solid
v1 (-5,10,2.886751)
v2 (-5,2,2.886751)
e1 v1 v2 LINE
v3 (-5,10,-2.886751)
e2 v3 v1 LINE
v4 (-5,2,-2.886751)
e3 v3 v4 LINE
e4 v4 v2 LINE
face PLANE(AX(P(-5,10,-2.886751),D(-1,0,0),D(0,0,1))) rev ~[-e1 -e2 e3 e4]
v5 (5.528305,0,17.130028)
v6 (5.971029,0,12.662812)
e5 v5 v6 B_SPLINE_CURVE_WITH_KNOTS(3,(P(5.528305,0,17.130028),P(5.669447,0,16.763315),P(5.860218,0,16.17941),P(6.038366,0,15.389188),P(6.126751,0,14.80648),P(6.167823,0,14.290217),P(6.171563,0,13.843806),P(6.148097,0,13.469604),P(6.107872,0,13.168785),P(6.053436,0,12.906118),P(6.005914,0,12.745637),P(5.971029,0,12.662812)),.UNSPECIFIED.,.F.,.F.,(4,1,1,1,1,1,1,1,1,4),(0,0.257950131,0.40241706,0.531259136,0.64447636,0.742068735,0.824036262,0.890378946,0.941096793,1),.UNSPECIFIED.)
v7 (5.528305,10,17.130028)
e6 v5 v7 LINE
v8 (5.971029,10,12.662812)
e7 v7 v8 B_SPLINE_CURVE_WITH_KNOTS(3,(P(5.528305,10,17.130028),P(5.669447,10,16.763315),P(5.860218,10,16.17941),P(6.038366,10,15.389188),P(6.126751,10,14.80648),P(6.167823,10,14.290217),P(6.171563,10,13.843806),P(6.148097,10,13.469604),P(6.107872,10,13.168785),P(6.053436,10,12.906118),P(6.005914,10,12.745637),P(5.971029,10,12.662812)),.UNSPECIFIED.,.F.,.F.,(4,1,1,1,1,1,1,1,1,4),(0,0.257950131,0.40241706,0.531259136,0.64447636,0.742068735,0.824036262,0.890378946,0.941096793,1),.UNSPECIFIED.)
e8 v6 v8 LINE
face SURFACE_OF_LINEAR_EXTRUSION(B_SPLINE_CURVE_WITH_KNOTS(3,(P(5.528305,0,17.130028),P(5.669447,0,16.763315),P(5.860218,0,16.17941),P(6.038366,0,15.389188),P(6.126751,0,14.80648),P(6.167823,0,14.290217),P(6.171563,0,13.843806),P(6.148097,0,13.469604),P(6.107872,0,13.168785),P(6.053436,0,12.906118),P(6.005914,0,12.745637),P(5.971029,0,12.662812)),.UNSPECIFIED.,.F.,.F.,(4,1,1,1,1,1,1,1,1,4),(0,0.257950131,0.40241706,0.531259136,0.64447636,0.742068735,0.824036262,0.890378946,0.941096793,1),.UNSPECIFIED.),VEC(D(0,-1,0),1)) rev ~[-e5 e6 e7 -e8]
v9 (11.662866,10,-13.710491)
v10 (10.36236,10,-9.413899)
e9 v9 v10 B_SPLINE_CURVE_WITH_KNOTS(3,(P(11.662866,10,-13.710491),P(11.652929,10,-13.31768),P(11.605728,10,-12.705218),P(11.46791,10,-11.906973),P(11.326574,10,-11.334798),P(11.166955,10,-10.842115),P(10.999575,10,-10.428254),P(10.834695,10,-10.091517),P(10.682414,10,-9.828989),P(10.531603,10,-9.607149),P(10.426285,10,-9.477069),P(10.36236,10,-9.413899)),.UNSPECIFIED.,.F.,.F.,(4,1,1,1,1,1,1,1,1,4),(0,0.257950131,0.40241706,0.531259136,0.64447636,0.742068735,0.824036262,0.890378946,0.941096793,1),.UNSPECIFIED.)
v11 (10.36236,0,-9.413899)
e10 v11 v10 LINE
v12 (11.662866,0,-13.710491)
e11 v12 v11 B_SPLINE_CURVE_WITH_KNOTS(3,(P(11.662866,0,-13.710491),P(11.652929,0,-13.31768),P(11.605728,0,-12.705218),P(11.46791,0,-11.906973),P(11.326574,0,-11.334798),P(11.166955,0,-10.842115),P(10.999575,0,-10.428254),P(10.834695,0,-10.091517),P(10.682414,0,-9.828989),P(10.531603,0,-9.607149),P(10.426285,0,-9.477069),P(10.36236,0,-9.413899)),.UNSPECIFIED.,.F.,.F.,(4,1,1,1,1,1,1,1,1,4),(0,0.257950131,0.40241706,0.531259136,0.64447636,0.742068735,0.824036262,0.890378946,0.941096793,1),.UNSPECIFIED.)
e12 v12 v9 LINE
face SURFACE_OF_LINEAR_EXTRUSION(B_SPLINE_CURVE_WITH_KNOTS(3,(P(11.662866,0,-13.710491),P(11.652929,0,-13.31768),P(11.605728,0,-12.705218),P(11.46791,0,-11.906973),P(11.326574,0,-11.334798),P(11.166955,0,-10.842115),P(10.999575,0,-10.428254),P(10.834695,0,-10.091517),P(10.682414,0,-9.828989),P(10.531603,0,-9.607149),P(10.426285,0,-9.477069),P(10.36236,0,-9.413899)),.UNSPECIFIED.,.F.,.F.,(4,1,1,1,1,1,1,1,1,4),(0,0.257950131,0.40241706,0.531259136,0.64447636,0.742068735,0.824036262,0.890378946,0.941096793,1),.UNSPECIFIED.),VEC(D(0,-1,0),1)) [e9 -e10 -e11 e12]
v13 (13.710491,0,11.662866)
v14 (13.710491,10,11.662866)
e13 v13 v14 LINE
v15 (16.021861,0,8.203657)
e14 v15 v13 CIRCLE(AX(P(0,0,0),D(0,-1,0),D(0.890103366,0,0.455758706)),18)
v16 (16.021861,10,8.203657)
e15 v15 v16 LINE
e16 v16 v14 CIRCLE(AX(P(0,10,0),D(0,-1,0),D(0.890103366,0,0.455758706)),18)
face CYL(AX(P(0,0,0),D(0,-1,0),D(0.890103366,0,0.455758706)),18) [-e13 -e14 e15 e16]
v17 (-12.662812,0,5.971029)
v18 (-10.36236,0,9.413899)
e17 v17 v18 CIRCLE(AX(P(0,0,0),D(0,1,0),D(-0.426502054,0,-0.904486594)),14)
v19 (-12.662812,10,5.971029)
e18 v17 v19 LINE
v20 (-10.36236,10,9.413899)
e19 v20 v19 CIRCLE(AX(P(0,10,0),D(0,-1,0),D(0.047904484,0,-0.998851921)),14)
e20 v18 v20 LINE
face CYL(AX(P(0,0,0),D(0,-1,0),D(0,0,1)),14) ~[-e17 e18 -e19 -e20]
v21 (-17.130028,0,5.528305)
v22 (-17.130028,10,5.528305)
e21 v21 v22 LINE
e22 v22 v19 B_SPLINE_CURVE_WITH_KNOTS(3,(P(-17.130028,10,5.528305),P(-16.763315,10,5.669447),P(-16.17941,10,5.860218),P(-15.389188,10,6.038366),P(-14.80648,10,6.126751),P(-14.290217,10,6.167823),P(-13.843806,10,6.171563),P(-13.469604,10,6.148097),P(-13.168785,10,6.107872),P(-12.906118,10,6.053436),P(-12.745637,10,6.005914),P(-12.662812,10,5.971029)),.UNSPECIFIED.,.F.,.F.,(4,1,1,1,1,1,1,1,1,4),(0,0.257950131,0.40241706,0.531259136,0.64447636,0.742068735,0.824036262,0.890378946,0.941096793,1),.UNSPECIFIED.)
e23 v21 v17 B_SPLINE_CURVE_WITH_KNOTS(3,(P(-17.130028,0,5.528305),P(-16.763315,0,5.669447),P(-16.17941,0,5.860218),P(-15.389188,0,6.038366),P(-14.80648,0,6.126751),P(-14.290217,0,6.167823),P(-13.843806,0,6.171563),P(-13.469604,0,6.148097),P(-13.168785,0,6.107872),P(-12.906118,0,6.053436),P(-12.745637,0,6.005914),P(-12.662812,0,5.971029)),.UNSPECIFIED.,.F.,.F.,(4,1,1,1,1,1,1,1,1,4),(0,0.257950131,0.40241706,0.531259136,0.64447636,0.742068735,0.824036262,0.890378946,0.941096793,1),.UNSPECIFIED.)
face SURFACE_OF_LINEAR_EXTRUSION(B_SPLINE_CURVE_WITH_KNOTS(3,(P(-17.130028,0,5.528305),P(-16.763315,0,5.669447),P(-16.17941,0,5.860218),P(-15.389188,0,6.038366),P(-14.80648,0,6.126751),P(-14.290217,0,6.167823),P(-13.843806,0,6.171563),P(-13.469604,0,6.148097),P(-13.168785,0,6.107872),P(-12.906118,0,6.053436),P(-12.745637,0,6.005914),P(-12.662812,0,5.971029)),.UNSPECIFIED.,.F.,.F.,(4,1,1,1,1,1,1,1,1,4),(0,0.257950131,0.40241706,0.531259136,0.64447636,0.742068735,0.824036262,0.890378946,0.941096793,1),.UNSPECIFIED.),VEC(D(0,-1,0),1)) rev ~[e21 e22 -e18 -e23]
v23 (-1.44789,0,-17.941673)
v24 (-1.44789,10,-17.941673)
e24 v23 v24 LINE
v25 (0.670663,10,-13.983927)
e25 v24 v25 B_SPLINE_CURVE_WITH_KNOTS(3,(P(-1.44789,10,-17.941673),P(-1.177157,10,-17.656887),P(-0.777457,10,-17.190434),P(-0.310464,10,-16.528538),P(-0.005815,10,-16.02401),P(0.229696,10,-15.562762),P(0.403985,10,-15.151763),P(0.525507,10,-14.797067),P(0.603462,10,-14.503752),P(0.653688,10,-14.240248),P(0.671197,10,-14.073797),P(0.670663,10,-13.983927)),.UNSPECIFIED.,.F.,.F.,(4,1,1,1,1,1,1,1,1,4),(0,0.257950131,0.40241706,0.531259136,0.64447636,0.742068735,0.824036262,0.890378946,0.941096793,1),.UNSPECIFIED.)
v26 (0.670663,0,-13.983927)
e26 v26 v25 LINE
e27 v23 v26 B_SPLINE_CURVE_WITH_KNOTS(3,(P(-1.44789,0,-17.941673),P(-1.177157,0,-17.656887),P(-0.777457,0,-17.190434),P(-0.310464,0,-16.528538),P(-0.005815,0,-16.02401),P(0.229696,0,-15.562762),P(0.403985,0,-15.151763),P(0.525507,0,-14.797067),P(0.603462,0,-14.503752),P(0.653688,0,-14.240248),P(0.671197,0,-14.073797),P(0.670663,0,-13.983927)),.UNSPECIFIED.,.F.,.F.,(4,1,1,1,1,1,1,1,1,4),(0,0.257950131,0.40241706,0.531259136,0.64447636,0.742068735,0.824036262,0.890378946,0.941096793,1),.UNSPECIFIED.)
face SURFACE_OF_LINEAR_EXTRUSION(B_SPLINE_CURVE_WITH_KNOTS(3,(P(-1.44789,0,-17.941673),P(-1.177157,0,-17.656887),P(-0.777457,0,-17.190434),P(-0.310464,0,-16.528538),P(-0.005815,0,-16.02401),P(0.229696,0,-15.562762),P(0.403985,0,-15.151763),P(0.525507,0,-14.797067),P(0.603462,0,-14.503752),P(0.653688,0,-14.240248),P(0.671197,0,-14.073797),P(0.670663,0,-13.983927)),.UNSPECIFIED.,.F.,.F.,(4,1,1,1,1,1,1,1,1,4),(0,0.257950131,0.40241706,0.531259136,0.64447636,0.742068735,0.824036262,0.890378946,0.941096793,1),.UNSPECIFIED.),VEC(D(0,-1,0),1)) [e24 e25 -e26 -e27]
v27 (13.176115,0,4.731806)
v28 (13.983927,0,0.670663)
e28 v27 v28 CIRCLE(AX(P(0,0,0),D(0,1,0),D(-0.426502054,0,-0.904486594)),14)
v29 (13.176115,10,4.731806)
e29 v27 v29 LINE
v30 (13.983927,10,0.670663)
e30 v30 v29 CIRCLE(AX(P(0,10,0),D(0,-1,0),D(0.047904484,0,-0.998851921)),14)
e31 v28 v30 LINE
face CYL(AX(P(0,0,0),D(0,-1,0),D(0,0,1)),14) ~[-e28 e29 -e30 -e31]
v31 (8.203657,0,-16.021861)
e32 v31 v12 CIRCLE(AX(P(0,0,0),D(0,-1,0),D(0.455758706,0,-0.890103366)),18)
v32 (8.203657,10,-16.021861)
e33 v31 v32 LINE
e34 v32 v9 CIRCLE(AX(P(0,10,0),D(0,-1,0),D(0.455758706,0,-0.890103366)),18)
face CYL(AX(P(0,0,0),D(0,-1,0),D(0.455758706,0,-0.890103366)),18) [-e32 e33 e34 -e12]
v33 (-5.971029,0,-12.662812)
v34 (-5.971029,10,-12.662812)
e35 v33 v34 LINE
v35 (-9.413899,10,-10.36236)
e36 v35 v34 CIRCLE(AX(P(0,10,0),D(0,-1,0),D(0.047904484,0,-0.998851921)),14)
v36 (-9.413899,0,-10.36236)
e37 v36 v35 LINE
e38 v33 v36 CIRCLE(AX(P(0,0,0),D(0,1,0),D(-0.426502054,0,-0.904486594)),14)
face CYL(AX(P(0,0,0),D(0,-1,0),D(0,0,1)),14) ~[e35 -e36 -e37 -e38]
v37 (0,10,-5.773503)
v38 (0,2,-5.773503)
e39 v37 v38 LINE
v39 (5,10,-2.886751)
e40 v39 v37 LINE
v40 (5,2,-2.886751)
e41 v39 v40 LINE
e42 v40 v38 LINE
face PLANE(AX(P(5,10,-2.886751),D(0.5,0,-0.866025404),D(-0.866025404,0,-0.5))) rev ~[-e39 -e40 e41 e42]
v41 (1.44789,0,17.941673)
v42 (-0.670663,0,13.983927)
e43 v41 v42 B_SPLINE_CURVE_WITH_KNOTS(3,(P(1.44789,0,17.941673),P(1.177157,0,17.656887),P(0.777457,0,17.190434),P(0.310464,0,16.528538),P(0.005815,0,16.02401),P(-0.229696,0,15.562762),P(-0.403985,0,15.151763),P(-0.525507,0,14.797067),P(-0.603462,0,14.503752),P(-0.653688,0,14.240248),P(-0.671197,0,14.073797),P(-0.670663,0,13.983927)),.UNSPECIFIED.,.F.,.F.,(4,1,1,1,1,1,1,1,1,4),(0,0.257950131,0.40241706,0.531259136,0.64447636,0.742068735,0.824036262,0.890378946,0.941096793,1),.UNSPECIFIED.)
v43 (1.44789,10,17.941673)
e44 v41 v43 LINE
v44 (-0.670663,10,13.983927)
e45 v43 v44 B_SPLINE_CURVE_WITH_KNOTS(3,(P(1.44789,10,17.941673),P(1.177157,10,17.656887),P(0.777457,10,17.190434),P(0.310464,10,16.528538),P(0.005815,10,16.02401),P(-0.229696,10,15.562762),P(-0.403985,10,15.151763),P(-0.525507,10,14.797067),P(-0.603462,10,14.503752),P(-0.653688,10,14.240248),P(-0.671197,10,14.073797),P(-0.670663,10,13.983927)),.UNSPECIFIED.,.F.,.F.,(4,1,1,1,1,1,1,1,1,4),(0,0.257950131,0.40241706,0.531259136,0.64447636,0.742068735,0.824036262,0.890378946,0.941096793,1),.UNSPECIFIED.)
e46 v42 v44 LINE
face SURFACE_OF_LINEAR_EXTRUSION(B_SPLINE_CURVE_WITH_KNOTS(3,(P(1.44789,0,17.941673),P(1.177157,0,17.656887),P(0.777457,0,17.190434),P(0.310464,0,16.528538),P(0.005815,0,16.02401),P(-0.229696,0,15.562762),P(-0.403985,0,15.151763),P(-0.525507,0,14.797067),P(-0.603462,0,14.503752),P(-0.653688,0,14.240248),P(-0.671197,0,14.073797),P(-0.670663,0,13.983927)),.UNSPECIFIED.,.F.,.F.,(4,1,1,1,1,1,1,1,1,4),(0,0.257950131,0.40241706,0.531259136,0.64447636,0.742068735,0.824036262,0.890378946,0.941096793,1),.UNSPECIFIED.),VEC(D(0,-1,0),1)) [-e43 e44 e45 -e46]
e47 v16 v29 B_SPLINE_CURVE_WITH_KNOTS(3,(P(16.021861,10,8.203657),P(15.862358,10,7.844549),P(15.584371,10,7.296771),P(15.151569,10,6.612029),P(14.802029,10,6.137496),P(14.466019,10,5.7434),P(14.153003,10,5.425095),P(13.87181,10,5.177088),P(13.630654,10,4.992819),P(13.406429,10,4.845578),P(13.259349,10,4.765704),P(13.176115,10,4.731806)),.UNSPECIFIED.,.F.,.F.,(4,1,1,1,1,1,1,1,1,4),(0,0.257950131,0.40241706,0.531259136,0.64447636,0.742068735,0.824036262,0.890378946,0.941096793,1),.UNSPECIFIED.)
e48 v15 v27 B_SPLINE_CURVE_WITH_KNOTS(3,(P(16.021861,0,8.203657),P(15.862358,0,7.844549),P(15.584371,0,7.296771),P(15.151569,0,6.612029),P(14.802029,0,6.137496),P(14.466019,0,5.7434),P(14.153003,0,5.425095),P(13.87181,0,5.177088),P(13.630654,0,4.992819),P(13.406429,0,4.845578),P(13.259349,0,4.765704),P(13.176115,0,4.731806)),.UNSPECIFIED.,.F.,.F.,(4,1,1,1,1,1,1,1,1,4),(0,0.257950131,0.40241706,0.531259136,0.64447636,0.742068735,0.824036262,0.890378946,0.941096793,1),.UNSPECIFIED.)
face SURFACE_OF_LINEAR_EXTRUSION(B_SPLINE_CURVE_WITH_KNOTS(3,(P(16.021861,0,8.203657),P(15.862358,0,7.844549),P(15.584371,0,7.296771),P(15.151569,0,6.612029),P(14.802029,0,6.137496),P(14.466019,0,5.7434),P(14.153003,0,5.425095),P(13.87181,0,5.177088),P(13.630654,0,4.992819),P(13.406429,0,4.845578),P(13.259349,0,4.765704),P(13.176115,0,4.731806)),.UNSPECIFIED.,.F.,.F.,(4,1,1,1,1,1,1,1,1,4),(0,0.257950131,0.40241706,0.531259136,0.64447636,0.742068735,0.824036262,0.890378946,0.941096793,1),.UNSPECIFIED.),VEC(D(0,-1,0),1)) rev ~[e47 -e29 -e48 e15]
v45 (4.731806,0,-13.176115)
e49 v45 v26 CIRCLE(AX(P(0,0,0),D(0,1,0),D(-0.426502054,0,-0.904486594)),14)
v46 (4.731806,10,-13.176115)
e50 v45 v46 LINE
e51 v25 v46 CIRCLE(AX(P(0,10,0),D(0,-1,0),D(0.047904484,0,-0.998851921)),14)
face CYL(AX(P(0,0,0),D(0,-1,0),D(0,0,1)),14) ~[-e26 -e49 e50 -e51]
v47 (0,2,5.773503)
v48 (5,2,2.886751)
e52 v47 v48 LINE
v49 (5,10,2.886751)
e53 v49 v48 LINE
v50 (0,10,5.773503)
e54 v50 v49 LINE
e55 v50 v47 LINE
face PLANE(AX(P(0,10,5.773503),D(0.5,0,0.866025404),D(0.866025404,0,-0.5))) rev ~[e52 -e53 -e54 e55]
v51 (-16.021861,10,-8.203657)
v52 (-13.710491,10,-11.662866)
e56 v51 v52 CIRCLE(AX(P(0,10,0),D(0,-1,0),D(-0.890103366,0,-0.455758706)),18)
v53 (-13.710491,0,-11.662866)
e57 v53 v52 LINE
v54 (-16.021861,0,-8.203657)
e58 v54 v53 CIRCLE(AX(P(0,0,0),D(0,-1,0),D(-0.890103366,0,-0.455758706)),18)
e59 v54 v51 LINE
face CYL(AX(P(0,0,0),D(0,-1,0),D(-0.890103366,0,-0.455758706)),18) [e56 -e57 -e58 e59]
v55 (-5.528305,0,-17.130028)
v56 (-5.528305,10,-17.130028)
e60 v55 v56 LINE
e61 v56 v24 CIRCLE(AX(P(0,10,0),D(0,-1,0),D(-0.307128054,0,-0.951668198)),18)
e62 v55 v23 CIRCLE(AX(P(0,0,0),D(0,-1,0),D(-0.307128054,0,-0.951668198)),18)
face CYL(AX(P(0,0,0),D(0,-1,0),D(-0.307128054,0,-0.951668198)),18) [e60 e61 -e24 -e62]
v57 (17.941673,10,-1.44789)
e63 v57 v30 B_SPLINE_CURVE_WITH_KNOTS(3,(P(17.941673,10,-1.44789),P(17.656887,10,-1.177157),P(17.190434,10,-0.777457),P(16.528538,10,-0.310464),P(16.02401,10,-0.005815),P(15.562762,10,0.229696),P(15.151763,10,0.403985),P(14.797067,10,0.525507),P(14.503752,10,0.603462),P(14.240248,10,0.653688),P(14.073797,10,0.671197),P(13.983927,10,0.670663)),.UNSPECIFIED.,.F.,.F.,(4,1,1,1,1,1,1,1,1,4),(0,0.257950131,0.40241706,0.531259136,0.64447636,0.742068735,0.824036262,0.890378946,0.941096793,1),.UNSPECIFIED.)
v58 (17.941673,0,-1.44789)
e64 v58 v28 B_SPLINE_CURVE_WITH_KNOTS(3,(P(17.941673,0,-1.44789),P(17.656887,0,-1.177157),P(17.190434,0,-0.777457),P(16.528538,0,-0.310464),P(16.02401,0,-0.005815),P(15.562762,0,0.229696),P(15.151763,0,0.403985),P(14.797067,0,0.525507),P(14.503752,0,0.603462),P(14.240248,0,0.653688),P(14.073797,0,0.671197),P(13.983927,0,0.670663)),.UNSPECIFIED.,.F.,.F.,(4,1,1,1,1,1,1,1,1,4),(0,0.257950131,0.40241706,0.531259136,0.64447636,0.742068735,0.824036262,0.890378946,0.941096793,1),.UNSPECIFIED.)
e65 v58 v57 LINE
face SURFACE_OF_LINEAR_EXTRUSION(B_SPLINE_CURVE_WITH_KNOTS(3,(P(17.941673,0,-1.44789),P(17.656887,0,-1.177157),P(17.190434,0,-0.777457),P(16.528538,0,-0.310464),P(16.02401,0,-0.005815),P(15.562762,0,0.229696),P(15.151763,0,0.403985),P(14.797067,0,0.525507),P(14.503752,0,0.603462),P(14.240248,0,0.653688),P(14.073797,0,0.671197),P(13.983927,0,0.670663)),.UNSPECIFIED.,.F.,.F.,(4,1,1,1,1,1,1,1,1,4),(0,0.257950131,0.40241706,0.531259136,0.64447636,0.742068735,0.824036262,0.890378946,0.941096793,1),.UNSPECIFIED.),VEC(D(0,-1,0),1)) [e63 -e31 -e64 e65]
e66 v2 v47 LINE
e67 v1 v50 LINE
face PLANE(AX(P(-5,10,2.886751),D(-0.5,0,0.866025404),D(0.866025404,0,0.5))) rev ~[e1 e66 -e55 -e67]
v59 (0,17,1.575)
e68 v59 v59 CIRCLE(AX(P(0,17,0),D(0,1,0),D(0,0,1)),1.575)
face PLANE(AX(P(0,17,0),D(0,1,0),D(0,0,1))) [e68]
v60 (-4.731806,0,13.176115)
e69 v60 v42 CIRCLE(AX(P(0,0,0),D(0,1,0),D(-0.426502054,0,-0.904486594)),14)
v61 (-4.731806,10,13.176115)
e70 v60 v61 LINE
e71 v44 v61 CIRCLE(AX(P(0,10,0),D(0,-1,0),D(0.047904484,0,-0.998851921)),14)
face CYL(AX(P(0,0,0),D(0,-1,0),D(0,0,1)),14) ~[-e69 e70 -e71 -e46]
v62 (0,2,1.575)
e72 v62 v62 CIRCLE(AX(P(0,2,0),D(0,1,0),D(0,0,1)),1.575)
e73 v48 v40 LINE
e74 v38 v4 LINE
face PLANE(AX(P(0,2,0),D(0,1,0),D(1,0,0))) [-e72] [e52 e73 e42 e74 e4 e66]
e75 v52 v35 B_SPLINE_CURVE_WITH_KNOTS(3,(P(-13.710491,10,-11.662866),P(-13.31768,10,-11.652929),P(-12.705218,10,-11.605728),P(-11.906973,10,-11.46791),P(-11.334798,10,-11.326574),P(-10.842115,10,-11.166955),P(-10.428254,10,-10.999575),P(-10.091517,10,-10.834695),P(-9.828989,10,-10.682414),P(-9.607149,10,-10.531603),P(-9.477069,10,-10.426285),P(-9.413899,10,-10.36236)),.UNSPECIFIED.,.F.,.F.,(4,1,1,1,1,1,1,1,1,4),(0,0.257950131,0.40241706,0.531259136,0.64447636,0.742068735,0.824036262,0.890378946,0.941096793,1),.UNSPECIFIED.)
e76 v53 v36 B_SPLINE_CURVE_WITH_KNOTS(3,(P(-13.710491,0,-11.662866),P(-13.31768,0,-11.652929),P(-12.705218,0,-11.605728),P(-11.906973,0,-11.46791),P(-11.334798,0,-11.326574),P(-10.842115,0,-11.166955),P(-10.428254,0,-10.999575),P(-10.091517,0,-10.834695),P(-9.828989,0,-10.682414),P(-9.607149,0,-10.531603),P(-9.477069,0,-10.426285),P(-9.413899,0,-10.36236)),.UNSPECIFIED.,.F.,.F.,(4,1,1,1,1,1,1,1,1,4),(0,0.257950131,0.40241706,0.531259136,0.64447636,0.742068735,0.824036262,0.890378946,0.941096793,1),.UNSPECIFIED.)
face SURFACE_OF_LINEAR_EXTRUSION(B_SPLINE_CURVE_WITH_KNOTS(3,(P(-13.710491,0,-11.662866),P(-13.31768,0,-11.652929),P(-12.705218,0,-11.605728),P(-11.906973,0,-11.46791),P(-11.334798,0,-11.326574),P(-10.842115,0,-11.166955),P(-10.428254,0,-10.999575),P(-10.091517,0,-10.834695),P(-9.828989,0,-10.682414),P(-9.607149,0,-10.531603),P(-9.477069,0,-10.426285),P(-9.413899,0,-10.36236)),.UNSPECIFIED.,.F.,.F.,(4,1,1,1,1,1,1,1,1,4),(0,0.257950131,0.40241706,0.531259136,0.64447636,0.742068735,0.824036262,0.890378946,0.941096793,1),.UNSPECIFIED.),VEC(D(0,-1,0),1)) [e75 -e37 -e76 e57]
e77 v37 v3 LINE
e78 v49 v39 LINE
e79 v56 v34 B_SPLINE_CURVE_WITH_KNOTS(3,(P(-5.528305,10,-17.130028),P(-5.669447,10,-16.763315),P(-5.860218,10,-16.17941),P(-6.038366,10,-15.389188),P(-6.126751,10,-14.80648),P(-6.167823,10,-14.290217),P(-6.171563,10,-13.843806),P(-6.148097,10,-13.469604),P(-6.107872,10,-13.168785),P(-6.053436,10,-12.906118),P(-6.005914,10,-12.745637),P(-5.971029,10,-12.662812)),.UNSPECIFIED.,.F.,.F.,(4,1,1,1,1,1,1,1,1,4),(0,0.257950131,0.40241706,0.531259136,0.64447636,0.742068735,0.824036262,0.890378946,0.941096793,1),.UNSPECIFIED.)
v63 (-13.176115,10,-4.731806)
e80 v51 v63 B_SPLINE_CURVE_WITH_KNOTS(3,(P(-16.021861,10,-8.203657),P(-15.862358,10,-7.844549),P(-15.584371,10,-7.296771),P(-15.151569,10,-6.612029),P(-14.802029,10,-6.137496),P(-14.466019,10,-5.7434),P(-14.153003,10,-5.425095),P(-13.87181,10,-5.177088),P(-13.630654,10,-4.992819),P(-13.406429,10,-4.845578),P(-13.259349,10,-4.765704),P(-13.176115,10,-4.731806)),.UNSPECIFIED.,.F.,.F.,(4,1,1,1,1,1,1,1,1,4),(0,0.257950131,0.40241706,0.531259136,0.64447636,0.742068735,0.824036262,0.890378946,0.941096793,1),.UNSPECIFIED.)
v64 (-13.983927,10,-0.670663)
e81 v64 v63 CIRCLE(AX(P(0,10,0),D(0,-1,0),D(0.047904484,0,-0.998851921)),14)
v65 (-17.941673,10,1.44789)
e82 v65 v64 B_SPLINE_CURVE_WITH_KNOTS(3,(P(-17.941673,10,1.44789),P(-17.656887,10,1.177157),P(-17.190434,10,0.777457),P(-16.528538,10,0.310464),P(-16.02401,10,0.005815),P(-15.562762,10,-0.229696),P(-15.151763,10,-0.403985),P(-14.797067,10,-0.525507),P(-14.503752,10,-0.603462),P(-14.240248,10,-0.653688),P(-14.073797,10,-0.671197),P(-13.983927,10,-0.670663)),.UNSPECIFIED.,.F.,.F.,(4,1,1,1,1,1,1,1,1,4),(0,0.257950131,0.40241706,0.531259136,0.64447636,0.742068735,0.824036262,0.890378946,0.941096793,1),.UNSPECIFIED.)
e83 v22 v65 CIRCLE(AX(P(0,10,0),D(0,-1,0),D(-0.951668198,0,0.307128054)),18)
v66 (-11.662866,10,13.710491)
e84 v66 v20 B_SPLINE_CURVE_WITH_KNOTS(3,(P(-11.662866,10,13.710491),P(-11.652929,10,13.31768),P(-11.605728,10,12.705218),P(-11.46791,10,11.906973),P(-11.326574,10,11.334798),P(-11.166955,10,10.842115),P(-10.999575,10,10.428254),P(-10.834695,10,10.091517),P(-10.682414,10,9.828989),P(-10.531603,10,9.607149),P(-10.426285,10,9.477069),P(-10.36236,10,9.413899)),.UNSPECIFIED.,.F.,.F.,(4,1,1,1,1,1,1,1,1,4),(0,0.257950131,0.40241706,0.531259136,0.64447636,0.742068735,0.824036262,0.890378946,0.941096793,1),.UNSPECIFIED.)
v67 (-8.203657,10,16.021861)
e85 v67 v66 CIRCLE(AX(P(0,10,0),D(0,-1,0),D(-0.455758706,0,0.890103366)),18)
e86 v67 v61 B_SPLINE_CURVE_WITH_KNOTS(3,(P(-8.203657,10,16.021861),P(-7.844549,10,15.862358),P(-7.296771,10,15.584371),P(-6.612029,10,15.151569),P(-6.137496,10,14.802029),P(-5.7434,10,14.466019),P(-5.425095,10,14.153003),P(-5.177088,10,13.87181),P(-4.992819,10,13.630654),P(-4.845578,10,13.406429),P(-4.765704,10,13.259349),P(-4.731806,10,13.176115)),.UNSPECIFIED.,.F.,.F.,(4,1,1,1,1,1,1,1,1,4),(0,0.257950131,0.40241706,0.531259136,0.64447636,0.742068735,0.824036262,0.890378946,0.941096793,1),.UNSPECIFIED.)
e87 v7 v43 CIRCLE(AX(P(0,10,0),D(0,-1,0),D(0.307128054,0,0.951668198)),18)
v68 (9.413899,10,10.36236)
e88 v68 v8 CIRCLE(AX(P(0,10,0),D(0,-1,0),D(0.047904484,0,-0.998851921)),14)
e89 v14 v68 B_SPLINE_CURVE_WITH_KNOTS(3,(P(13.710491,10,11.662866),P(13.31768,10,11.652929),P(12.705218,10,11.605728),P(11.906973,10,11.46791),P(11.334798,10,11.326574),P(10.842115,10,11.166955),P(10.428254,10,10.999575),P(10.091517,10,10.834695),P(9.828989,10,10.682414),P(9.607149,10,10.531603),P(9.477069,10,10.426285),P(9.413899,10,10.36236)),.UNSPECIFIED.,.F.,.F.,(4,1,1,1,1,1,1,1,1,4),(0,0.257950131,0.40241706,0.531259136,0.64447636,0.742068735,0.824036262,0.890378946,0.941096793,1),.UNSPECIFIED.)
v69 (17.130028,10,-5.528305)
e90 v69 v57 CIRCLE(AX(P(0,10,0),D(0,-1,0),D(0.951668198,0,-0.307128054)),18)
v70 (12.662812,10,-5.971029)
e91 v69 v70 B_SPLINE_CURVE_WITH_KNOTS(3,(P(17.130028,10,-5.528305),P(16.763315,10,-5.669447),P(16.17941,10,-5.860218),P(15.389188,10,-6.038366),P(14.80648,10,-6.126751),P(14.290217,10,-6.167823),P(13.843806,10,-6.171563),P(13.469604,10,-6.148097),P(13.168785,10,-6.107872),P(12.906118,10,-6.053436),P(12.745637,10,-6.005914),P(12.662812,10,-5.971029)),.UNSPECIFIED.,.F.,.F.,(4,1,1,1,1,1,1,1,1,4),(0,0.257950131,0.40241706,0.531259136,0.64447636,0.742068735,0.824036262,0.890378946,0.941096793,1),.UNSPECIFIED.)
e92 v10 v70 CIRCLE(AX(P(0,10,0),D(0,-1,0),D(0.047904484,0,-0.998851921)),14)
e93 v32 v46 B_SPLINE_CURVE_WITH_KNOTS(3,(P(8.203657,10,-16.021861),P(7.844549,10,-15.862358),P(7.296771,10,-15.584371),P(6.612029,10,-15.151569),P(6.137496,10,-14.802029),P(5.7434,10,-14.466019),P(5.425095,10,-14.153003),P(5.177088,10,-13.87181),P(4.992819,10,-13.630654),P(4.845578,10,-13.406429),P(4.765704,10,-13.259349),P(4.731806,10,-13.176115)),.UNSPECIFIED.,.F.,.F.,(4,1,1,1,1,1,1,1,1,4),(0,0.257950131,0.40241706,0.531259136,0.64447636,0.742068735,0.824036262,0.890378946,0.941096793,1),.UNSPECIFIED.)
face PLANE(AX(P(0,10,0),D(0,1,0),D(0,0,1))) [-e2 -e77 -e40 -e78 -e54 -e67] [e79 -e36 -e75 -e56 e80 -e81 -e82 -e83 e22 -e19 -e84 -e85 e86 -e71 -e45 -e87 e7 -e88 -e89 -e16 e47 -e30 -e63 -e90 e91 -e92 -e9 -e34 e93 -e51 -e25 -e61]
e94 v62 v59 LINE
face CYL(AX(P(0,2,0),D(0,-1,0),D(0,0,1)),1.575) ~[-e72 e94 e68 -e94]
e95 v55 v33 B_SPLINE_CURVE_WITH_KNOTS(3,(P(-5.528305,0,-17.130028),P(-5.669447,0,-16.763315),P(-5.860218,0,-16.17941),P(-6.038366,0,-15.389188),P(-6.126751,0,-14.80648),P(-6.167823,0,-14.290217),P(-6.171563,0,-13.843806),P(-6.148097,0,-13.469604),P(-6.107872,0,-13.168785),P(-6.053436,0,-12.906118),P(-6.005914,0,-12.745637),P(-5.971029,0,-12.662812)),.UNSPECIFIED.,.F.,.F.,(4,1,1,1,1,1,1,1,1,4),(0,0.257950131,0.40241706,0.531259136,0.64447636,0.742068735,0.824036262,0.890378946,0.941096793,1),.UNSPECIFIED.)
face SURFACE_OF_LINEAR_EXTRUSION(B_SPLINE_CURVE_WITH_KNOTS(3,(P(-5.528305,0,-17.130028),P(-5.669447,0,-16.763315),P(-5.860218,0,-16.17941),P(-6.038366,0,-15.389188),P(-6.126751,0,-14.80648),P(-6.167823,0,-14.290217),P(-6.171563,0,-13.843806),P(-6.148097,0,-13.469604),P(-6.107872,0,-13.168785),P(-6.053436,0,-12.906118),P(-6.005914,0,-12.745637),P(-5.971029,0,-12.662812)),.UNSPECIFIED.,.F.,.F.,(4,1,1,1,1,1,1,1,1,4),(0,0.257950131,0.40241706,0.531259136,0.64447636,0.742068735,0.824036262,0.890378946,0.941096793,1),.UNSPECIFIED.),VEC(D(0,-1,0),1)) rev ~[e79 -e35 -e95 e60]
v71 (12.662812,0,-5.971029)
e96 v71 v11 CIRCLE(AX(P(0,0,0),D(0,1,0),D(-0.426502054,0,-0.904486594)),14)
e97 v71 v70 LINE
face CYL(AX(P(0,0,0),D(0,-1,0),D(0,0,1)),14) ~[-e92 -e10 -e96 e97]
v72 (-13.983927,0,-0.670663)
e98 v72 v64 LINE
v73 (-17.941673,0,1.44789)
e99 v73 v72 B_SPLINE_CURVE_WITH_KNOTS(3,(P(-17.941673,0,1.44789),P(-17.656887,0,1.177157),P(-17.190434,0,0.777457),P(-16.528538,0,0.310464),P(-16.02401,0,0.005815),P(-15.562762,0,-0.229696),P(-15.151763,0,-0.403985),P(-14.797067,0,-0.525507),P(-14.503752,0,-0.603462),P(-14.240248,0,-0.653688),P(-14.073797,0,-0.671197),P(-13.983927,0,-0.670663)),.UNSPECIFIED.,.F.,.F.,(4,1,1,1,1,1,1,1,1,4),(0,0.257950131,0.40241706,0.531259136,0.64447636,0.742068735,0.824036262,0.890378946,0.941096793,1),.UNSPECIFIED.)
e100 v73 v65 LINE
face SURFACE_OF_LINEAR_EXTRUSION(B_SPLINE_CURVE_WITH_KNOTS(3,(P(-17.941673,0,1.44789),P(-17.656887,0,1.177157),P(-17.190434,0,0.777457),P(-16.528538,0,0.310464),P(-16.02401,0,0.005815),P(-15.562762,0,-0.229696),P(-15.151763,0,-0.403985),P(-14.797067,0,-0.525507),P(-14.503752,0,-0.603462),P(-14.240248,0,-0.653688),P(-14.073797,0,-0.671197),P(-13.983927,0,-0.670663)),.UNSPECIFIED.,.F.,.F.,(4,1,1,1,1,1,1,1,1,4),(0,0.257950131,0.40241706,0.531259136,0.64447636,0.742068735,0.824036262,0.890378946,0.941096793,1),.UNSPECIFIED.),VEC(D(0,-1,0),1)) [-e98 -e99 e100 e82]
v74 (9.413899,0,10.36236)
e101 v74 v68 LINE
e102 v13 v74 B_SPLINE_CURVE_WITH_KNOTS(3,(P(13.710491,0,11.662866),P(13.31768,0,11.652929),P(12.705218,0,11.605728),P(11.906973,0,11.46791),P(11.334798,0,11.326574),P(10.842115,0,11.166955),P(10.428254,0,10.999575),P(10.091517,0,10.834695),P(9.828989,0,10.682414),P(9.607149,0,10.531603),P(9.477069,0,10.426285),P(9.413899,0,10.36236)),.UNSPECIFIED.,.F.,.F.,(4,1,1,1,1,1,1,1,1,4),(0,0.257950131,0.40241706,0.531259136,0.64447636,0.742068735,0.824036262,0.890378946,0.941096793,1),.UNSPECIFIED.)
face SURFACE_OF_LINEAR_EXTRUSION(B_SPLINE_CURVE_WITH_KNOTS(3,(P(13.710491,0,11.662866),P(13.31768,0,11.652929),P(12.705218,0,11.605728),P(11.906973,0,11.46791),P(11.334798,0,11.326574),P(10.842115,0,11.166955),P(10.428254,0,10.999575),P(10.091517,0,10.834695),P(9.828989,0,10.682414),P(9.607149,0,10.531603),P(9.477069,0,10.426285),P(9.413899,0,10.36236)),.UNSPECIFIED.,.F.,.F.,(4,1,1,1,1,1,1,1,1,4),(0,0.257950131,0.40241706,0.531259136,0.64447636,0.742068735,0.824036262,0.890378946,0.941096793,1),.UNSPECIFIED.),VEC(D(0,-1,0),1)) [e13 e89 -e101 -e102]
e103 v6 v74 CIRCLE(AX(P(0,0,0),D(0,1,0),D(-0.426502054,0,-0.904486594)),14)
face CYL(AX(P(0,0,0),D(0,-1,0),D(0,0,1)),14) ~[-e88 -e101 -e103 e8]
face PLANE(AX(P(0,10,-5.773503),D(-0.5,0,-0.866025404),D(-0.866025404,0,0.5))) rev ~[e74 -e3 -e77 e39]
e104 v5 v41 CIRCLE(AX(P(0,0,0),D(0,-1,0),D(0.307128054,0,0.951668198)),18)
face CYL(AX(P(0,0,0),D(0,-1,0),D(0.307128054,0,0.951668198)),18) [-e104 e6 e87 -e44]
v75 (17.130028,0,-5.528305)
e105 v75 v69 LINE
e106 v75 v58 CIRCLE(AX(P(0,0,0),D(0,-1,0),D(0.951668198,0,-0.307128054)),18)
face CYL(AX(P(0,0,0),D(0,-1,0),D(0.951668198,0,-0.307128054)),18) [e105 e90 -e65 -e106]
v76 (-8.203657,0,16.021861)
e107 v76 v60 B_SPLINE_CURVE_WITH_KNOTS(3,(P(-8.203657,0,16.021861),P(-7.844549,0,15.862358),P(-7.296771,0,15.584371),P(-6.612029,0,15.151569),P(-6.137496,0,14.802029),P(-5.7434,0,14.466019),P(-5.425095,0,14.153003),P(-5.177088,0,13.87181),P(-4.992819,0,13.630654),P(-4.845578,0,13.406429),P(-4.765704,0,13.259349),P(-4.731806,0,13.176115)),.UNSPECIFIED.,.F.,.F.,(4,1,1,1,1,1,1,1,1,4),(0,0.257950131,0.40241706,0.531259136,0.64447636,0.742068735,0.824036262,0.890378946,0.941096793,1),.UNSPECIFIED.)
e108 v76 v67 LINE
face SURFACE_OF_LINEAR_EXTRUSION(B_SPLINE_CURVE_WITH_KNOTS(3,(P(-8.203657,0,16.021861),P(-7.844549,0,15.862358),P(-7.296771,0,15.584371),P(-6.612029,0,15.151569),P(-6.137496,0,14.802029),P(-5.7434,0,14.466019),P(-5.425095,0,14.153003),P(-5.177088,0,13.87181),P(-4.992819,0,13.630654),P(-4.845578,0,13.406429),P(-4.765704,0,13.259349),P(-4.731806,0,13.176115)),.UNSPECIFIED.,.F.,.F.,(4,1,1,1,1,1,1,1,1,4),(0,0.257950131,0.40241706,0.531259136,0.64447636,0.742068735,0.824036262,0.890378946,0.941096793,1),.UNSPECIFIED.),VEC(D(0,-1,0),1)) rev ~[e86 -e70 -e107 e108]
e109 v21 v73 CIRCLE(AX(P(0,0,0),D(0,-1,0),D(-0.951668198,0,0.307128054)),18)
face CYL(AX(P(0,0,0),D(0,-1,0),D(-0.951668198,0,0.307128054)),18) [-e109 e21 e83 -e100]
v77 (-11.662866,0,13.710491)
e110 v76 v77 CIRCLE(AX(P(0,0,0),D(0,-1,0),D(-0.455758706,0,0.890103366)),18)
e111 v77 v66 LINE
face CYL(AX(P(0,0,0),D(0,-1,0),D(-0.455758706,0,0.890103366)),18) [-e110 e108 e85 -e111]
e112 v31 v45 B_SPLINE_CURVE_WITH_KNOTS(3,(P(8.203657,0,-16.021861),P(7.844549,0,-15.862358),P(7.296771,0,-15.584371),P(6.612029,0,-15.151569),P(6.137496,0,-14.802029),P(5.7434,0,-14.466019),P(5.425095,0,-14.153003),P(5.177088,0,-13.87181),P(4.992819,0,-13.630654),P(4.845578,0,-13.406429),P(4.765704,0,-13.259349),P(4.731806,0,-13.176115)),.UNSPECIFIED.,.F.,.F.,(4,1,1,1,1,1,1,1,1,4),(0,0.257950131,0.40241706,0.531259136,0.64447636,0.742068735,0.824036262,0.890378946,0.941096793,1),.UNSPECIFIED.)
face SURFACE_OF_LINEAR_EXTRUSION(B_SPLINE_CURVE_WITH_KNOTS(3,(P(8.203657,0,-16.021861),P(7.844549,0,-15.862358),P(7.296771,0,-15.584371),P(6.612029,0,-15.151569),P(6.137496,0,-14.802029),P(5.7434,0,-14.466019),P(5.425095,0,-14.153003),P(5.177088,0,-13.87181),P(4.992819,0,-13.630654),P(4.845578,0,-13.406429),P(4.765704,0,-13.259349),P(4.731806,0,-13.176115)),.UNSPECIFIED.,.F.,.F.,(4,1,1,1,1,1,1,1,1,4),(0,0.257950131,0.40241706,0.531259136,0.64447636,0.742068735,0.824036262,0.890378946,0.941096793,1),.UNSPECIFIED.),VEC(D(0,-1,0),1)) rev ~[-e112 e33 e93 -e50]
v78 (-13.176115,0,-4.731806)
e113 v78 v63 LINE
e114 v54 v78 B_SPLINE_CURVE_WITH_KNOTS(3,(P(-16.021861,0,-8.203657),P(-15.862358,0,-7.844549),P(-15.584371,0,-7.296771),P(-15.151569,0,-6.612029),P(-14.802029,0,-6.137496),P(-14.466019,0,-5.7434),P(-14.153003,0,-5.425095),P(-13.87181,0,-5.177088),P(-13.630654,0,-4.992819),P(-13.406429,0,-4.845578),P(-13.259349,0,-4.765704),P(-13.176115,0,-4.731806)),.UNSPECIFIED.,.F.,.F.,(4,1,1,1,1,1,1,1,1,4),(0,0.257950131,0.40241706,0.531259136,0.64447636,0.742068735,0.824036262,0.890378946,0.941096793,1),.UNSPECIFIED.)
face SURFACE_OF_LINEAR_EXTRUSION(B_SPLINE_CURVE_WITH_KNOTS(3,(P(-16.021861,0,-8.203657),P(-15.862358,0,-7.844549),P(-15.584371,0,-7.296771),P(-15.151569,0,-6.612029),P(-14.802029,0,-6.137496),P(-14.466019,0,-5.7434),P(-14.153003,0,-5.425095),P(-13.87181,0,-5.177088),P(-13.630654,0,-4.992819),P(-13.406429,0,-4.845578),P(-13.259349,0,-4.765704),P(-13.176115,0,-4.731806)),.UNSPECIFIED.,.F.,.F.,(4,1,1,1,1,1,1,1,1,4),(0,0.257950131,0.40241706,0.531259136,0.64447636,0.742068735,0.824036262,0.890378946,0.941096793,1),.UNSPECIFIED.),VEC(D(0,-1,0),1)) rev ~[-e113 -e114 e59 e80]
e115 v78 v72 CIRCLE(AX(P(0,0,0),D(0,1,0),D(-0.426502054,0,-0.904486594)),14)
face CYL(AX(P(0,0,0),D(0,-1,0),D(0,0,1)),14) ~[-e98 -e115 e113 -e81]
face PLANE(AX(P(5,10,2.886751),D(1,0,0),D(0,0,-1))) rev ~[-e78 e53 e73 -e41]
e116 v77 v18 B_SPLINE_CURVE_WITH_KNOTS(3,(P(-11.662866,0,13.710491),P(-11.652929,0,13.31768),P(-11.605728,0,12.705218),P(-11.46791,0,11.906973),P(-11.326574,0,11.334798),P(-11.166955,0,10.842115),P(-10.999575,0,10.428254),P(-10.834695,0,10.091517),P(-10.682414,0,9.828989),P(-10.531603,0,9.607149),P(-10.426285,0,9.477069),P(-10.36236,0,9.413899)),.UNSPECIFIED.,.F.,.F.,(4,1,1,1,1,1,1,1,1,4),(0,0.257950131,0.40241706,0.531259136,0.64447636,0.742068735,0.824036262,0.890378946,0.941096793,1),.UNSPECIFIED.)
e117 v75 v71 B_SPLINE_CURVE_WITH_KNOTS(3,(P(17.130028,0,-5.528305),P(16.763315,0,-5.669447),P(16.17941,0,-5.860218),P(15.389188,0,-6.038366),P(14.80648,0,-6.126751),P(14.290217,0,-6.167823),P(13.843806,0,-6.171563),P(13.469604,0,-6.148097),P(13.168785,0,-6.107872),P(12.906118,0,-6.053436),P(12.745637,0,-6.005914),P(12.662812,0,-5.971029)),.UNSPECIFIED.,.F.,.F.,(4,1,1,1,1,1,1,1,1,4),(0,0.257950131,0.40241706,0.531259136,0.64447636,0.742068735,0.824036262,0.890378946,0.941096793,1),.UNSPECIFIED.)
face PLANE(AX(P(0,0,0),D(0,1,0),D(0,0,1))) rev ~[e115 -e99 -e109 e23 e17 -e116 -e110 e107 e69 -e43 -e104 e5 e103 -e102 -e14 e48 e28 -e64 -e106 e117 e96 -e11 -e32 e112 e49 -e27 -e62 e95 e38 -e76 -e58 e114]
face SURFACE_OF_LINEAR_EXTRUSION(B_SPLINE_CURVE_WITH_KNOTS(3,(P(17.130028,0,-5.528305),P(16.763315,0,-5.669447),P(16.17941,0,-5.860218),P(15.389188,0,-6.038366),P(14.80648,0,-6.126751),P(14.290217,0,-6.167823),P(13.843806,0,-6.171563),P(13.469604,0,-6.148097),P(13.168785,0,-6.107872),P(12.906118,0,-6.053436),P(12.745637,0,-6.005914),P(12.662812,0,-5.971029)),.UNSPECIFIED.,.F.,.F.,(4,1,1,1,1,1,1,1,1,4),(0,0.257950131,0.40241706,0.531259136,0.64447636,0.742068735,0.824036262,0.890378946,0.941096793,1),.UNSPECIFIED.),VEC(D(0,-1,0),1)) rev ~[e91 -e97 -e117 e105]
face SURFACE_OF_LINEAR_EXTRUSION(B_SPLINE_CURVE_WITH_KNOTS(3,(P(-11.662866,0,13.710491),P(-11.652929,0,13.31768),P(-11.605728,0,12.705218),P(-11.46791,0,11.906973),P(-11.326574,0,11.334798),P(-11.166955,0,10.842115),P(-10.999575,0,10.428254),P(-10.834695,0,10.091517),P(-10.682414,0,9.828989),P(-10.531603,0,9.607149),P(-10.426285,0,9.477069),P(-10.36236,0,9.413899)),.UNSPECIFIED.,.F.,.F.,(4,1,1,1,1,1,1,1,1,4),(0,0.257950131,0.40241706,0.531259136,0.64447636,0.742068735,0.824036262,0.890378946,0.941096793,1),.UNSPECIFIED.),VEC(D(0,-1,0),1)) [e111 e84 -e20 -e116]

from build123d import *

# Parameters (mm, degrees)
SKETCH_1_R               = 14
EXTRUDE_1_DEPTH          = 10
EXTRUDE_2_DEPTH          = 10
PATTERN_CIRCULAR_1_COUNT = 8
CUT_EXTRUDE_2_DEPTH      = 8
SKETCH_8_R               = 1.575
EXTRUDE_5_DEPTH          = 15


with BuildPart() as part:
    # ｽｹｯﾁ1 → ﾎﾞｽ - 押し出し1 (new body)
    with BuildSketch(Plane(origin=(0, 0, 0), x_dir=(1, 0, 0), z_dir=(0, 1, 0))):
        with Locations(Location((0, 0, 0), (0, 0, 270))):
            Circle(SKETCH_1_R)
    extrude(amount=EXTRUDE_1_DEPTH)

    # ｽｹｯﾁ3 → ﾎﾞｽ - 押し出し2 (add)
    with BuildSketch(Plane(origin=(0, 0, 0), x_dir=(1, 0, 0), z_dir=(0, 1, 0))):
        with BuildLine():
            ThreePointArc((0.670662773, 13.983926896), (-2.731264508, 13.730993926), (-5.971028752, 12.662812312))
            add(Edge.make_bspline(
                [(-5.528304984, 17.130027554), (-5.669447216, 16.763315044), (-5.860218101, 16.179410176), (-6.038366418, 15.38918786), (-6.12675066, 14.806480124), (-6.167823232, 14.2902167), (-6.171562682, 13.84380553), (-6.148097009, 13.46960438), (-6.10787192, 13.168784501), (-6.053435711, 12.906118131), (-6.005913858, 12.745636704), (-5.971028752, 12.662812312)],
                knots=[0, 0, 0, 0, 0.257950131, 0.40241706, 0.531259136, 0.64447636, 0.742068735, 0.824036262, 0.890378946, 0.941096793, 1, 1, 1, 1], degree=3))
            ThreePointArc((-5.528304984, 17.130027554), (-3.511625796, 17.654135047), (-1.447889917, 17.941672575))
            add(Edge.make_bspline(
                [(-1.447889917, 17.941672575), (-1.177156696, 17.656887186), (-0.77745666, 17.190434286), (-0.310464088, 16.528538472), (-0.0058151, 16.024009907), (0.229696468, 15.562762489), (0.403985429, 15.151763371), (0.525506554, 14.797066663), (0.603462201, 14.50375186), (0.65368777, 14.240247941), (0.671196886, 14.073796609), (0.670662773, 13.983926896)],
                knots=[0, 0, 0, 0, 0.257950131, 0.40241706, 0.531259136, 0.64447636, 0.742068735, 0.824036262, 0.890378946, 0.941096793, 1, 1, 1, 1], degree=3))
        make_face()
    extrude_2 = extrude(amount=EXTRUDE_2_DEPTH)

    # 円形ﾊﾟﾀｰﾝ1: ﾎﾞｽ - 押し出し2 ×8 about axis
    pattern_circular_1_axis = Axis((0, 10, 0), (0, 1, 0))
    for i in range(1, PATTERN_CIRCULAR_1_COUNT):
        add(extrude_2.rotate(pattern_circular_1_axis, i * 360 / PATTERN_CIRCULAR_1_COUNT))

    # ｽｹｯﾁ6 → ｶｯﾄ - 押し出し2 (cut)
    with BuildSketch(Plane(origin=(0, 10, 0), x_dir=(1, 0, 0), z_dir=(0, 1, 0))):
        Polygon((0, 5.773502692), (-5, 2.886751346), (-5, -2.886751346), (0, -5.773502692), (5, -2.886751346), (5, 2.886751346), align=None)
    extrude(amount=-CUT_EXTRUDE_2_DEPTH, mode=Mode.SUBTRACT)

    # ｽｹｯﾁ8 → ﾎﾞｽ - 押し出し5 (add)
    with BuildSketch(Plane(origin=(0, 2, 0), x_dir=(1, 0, 0), z_dir=(0, 1, 0))):
        with Locations(Location((0, 0, 0), (0, 0, 270))):
            Circle(SKETCH_8_R)
    extrude(amount=EXTRUDE_5_DEPTH)


solid = part.part
